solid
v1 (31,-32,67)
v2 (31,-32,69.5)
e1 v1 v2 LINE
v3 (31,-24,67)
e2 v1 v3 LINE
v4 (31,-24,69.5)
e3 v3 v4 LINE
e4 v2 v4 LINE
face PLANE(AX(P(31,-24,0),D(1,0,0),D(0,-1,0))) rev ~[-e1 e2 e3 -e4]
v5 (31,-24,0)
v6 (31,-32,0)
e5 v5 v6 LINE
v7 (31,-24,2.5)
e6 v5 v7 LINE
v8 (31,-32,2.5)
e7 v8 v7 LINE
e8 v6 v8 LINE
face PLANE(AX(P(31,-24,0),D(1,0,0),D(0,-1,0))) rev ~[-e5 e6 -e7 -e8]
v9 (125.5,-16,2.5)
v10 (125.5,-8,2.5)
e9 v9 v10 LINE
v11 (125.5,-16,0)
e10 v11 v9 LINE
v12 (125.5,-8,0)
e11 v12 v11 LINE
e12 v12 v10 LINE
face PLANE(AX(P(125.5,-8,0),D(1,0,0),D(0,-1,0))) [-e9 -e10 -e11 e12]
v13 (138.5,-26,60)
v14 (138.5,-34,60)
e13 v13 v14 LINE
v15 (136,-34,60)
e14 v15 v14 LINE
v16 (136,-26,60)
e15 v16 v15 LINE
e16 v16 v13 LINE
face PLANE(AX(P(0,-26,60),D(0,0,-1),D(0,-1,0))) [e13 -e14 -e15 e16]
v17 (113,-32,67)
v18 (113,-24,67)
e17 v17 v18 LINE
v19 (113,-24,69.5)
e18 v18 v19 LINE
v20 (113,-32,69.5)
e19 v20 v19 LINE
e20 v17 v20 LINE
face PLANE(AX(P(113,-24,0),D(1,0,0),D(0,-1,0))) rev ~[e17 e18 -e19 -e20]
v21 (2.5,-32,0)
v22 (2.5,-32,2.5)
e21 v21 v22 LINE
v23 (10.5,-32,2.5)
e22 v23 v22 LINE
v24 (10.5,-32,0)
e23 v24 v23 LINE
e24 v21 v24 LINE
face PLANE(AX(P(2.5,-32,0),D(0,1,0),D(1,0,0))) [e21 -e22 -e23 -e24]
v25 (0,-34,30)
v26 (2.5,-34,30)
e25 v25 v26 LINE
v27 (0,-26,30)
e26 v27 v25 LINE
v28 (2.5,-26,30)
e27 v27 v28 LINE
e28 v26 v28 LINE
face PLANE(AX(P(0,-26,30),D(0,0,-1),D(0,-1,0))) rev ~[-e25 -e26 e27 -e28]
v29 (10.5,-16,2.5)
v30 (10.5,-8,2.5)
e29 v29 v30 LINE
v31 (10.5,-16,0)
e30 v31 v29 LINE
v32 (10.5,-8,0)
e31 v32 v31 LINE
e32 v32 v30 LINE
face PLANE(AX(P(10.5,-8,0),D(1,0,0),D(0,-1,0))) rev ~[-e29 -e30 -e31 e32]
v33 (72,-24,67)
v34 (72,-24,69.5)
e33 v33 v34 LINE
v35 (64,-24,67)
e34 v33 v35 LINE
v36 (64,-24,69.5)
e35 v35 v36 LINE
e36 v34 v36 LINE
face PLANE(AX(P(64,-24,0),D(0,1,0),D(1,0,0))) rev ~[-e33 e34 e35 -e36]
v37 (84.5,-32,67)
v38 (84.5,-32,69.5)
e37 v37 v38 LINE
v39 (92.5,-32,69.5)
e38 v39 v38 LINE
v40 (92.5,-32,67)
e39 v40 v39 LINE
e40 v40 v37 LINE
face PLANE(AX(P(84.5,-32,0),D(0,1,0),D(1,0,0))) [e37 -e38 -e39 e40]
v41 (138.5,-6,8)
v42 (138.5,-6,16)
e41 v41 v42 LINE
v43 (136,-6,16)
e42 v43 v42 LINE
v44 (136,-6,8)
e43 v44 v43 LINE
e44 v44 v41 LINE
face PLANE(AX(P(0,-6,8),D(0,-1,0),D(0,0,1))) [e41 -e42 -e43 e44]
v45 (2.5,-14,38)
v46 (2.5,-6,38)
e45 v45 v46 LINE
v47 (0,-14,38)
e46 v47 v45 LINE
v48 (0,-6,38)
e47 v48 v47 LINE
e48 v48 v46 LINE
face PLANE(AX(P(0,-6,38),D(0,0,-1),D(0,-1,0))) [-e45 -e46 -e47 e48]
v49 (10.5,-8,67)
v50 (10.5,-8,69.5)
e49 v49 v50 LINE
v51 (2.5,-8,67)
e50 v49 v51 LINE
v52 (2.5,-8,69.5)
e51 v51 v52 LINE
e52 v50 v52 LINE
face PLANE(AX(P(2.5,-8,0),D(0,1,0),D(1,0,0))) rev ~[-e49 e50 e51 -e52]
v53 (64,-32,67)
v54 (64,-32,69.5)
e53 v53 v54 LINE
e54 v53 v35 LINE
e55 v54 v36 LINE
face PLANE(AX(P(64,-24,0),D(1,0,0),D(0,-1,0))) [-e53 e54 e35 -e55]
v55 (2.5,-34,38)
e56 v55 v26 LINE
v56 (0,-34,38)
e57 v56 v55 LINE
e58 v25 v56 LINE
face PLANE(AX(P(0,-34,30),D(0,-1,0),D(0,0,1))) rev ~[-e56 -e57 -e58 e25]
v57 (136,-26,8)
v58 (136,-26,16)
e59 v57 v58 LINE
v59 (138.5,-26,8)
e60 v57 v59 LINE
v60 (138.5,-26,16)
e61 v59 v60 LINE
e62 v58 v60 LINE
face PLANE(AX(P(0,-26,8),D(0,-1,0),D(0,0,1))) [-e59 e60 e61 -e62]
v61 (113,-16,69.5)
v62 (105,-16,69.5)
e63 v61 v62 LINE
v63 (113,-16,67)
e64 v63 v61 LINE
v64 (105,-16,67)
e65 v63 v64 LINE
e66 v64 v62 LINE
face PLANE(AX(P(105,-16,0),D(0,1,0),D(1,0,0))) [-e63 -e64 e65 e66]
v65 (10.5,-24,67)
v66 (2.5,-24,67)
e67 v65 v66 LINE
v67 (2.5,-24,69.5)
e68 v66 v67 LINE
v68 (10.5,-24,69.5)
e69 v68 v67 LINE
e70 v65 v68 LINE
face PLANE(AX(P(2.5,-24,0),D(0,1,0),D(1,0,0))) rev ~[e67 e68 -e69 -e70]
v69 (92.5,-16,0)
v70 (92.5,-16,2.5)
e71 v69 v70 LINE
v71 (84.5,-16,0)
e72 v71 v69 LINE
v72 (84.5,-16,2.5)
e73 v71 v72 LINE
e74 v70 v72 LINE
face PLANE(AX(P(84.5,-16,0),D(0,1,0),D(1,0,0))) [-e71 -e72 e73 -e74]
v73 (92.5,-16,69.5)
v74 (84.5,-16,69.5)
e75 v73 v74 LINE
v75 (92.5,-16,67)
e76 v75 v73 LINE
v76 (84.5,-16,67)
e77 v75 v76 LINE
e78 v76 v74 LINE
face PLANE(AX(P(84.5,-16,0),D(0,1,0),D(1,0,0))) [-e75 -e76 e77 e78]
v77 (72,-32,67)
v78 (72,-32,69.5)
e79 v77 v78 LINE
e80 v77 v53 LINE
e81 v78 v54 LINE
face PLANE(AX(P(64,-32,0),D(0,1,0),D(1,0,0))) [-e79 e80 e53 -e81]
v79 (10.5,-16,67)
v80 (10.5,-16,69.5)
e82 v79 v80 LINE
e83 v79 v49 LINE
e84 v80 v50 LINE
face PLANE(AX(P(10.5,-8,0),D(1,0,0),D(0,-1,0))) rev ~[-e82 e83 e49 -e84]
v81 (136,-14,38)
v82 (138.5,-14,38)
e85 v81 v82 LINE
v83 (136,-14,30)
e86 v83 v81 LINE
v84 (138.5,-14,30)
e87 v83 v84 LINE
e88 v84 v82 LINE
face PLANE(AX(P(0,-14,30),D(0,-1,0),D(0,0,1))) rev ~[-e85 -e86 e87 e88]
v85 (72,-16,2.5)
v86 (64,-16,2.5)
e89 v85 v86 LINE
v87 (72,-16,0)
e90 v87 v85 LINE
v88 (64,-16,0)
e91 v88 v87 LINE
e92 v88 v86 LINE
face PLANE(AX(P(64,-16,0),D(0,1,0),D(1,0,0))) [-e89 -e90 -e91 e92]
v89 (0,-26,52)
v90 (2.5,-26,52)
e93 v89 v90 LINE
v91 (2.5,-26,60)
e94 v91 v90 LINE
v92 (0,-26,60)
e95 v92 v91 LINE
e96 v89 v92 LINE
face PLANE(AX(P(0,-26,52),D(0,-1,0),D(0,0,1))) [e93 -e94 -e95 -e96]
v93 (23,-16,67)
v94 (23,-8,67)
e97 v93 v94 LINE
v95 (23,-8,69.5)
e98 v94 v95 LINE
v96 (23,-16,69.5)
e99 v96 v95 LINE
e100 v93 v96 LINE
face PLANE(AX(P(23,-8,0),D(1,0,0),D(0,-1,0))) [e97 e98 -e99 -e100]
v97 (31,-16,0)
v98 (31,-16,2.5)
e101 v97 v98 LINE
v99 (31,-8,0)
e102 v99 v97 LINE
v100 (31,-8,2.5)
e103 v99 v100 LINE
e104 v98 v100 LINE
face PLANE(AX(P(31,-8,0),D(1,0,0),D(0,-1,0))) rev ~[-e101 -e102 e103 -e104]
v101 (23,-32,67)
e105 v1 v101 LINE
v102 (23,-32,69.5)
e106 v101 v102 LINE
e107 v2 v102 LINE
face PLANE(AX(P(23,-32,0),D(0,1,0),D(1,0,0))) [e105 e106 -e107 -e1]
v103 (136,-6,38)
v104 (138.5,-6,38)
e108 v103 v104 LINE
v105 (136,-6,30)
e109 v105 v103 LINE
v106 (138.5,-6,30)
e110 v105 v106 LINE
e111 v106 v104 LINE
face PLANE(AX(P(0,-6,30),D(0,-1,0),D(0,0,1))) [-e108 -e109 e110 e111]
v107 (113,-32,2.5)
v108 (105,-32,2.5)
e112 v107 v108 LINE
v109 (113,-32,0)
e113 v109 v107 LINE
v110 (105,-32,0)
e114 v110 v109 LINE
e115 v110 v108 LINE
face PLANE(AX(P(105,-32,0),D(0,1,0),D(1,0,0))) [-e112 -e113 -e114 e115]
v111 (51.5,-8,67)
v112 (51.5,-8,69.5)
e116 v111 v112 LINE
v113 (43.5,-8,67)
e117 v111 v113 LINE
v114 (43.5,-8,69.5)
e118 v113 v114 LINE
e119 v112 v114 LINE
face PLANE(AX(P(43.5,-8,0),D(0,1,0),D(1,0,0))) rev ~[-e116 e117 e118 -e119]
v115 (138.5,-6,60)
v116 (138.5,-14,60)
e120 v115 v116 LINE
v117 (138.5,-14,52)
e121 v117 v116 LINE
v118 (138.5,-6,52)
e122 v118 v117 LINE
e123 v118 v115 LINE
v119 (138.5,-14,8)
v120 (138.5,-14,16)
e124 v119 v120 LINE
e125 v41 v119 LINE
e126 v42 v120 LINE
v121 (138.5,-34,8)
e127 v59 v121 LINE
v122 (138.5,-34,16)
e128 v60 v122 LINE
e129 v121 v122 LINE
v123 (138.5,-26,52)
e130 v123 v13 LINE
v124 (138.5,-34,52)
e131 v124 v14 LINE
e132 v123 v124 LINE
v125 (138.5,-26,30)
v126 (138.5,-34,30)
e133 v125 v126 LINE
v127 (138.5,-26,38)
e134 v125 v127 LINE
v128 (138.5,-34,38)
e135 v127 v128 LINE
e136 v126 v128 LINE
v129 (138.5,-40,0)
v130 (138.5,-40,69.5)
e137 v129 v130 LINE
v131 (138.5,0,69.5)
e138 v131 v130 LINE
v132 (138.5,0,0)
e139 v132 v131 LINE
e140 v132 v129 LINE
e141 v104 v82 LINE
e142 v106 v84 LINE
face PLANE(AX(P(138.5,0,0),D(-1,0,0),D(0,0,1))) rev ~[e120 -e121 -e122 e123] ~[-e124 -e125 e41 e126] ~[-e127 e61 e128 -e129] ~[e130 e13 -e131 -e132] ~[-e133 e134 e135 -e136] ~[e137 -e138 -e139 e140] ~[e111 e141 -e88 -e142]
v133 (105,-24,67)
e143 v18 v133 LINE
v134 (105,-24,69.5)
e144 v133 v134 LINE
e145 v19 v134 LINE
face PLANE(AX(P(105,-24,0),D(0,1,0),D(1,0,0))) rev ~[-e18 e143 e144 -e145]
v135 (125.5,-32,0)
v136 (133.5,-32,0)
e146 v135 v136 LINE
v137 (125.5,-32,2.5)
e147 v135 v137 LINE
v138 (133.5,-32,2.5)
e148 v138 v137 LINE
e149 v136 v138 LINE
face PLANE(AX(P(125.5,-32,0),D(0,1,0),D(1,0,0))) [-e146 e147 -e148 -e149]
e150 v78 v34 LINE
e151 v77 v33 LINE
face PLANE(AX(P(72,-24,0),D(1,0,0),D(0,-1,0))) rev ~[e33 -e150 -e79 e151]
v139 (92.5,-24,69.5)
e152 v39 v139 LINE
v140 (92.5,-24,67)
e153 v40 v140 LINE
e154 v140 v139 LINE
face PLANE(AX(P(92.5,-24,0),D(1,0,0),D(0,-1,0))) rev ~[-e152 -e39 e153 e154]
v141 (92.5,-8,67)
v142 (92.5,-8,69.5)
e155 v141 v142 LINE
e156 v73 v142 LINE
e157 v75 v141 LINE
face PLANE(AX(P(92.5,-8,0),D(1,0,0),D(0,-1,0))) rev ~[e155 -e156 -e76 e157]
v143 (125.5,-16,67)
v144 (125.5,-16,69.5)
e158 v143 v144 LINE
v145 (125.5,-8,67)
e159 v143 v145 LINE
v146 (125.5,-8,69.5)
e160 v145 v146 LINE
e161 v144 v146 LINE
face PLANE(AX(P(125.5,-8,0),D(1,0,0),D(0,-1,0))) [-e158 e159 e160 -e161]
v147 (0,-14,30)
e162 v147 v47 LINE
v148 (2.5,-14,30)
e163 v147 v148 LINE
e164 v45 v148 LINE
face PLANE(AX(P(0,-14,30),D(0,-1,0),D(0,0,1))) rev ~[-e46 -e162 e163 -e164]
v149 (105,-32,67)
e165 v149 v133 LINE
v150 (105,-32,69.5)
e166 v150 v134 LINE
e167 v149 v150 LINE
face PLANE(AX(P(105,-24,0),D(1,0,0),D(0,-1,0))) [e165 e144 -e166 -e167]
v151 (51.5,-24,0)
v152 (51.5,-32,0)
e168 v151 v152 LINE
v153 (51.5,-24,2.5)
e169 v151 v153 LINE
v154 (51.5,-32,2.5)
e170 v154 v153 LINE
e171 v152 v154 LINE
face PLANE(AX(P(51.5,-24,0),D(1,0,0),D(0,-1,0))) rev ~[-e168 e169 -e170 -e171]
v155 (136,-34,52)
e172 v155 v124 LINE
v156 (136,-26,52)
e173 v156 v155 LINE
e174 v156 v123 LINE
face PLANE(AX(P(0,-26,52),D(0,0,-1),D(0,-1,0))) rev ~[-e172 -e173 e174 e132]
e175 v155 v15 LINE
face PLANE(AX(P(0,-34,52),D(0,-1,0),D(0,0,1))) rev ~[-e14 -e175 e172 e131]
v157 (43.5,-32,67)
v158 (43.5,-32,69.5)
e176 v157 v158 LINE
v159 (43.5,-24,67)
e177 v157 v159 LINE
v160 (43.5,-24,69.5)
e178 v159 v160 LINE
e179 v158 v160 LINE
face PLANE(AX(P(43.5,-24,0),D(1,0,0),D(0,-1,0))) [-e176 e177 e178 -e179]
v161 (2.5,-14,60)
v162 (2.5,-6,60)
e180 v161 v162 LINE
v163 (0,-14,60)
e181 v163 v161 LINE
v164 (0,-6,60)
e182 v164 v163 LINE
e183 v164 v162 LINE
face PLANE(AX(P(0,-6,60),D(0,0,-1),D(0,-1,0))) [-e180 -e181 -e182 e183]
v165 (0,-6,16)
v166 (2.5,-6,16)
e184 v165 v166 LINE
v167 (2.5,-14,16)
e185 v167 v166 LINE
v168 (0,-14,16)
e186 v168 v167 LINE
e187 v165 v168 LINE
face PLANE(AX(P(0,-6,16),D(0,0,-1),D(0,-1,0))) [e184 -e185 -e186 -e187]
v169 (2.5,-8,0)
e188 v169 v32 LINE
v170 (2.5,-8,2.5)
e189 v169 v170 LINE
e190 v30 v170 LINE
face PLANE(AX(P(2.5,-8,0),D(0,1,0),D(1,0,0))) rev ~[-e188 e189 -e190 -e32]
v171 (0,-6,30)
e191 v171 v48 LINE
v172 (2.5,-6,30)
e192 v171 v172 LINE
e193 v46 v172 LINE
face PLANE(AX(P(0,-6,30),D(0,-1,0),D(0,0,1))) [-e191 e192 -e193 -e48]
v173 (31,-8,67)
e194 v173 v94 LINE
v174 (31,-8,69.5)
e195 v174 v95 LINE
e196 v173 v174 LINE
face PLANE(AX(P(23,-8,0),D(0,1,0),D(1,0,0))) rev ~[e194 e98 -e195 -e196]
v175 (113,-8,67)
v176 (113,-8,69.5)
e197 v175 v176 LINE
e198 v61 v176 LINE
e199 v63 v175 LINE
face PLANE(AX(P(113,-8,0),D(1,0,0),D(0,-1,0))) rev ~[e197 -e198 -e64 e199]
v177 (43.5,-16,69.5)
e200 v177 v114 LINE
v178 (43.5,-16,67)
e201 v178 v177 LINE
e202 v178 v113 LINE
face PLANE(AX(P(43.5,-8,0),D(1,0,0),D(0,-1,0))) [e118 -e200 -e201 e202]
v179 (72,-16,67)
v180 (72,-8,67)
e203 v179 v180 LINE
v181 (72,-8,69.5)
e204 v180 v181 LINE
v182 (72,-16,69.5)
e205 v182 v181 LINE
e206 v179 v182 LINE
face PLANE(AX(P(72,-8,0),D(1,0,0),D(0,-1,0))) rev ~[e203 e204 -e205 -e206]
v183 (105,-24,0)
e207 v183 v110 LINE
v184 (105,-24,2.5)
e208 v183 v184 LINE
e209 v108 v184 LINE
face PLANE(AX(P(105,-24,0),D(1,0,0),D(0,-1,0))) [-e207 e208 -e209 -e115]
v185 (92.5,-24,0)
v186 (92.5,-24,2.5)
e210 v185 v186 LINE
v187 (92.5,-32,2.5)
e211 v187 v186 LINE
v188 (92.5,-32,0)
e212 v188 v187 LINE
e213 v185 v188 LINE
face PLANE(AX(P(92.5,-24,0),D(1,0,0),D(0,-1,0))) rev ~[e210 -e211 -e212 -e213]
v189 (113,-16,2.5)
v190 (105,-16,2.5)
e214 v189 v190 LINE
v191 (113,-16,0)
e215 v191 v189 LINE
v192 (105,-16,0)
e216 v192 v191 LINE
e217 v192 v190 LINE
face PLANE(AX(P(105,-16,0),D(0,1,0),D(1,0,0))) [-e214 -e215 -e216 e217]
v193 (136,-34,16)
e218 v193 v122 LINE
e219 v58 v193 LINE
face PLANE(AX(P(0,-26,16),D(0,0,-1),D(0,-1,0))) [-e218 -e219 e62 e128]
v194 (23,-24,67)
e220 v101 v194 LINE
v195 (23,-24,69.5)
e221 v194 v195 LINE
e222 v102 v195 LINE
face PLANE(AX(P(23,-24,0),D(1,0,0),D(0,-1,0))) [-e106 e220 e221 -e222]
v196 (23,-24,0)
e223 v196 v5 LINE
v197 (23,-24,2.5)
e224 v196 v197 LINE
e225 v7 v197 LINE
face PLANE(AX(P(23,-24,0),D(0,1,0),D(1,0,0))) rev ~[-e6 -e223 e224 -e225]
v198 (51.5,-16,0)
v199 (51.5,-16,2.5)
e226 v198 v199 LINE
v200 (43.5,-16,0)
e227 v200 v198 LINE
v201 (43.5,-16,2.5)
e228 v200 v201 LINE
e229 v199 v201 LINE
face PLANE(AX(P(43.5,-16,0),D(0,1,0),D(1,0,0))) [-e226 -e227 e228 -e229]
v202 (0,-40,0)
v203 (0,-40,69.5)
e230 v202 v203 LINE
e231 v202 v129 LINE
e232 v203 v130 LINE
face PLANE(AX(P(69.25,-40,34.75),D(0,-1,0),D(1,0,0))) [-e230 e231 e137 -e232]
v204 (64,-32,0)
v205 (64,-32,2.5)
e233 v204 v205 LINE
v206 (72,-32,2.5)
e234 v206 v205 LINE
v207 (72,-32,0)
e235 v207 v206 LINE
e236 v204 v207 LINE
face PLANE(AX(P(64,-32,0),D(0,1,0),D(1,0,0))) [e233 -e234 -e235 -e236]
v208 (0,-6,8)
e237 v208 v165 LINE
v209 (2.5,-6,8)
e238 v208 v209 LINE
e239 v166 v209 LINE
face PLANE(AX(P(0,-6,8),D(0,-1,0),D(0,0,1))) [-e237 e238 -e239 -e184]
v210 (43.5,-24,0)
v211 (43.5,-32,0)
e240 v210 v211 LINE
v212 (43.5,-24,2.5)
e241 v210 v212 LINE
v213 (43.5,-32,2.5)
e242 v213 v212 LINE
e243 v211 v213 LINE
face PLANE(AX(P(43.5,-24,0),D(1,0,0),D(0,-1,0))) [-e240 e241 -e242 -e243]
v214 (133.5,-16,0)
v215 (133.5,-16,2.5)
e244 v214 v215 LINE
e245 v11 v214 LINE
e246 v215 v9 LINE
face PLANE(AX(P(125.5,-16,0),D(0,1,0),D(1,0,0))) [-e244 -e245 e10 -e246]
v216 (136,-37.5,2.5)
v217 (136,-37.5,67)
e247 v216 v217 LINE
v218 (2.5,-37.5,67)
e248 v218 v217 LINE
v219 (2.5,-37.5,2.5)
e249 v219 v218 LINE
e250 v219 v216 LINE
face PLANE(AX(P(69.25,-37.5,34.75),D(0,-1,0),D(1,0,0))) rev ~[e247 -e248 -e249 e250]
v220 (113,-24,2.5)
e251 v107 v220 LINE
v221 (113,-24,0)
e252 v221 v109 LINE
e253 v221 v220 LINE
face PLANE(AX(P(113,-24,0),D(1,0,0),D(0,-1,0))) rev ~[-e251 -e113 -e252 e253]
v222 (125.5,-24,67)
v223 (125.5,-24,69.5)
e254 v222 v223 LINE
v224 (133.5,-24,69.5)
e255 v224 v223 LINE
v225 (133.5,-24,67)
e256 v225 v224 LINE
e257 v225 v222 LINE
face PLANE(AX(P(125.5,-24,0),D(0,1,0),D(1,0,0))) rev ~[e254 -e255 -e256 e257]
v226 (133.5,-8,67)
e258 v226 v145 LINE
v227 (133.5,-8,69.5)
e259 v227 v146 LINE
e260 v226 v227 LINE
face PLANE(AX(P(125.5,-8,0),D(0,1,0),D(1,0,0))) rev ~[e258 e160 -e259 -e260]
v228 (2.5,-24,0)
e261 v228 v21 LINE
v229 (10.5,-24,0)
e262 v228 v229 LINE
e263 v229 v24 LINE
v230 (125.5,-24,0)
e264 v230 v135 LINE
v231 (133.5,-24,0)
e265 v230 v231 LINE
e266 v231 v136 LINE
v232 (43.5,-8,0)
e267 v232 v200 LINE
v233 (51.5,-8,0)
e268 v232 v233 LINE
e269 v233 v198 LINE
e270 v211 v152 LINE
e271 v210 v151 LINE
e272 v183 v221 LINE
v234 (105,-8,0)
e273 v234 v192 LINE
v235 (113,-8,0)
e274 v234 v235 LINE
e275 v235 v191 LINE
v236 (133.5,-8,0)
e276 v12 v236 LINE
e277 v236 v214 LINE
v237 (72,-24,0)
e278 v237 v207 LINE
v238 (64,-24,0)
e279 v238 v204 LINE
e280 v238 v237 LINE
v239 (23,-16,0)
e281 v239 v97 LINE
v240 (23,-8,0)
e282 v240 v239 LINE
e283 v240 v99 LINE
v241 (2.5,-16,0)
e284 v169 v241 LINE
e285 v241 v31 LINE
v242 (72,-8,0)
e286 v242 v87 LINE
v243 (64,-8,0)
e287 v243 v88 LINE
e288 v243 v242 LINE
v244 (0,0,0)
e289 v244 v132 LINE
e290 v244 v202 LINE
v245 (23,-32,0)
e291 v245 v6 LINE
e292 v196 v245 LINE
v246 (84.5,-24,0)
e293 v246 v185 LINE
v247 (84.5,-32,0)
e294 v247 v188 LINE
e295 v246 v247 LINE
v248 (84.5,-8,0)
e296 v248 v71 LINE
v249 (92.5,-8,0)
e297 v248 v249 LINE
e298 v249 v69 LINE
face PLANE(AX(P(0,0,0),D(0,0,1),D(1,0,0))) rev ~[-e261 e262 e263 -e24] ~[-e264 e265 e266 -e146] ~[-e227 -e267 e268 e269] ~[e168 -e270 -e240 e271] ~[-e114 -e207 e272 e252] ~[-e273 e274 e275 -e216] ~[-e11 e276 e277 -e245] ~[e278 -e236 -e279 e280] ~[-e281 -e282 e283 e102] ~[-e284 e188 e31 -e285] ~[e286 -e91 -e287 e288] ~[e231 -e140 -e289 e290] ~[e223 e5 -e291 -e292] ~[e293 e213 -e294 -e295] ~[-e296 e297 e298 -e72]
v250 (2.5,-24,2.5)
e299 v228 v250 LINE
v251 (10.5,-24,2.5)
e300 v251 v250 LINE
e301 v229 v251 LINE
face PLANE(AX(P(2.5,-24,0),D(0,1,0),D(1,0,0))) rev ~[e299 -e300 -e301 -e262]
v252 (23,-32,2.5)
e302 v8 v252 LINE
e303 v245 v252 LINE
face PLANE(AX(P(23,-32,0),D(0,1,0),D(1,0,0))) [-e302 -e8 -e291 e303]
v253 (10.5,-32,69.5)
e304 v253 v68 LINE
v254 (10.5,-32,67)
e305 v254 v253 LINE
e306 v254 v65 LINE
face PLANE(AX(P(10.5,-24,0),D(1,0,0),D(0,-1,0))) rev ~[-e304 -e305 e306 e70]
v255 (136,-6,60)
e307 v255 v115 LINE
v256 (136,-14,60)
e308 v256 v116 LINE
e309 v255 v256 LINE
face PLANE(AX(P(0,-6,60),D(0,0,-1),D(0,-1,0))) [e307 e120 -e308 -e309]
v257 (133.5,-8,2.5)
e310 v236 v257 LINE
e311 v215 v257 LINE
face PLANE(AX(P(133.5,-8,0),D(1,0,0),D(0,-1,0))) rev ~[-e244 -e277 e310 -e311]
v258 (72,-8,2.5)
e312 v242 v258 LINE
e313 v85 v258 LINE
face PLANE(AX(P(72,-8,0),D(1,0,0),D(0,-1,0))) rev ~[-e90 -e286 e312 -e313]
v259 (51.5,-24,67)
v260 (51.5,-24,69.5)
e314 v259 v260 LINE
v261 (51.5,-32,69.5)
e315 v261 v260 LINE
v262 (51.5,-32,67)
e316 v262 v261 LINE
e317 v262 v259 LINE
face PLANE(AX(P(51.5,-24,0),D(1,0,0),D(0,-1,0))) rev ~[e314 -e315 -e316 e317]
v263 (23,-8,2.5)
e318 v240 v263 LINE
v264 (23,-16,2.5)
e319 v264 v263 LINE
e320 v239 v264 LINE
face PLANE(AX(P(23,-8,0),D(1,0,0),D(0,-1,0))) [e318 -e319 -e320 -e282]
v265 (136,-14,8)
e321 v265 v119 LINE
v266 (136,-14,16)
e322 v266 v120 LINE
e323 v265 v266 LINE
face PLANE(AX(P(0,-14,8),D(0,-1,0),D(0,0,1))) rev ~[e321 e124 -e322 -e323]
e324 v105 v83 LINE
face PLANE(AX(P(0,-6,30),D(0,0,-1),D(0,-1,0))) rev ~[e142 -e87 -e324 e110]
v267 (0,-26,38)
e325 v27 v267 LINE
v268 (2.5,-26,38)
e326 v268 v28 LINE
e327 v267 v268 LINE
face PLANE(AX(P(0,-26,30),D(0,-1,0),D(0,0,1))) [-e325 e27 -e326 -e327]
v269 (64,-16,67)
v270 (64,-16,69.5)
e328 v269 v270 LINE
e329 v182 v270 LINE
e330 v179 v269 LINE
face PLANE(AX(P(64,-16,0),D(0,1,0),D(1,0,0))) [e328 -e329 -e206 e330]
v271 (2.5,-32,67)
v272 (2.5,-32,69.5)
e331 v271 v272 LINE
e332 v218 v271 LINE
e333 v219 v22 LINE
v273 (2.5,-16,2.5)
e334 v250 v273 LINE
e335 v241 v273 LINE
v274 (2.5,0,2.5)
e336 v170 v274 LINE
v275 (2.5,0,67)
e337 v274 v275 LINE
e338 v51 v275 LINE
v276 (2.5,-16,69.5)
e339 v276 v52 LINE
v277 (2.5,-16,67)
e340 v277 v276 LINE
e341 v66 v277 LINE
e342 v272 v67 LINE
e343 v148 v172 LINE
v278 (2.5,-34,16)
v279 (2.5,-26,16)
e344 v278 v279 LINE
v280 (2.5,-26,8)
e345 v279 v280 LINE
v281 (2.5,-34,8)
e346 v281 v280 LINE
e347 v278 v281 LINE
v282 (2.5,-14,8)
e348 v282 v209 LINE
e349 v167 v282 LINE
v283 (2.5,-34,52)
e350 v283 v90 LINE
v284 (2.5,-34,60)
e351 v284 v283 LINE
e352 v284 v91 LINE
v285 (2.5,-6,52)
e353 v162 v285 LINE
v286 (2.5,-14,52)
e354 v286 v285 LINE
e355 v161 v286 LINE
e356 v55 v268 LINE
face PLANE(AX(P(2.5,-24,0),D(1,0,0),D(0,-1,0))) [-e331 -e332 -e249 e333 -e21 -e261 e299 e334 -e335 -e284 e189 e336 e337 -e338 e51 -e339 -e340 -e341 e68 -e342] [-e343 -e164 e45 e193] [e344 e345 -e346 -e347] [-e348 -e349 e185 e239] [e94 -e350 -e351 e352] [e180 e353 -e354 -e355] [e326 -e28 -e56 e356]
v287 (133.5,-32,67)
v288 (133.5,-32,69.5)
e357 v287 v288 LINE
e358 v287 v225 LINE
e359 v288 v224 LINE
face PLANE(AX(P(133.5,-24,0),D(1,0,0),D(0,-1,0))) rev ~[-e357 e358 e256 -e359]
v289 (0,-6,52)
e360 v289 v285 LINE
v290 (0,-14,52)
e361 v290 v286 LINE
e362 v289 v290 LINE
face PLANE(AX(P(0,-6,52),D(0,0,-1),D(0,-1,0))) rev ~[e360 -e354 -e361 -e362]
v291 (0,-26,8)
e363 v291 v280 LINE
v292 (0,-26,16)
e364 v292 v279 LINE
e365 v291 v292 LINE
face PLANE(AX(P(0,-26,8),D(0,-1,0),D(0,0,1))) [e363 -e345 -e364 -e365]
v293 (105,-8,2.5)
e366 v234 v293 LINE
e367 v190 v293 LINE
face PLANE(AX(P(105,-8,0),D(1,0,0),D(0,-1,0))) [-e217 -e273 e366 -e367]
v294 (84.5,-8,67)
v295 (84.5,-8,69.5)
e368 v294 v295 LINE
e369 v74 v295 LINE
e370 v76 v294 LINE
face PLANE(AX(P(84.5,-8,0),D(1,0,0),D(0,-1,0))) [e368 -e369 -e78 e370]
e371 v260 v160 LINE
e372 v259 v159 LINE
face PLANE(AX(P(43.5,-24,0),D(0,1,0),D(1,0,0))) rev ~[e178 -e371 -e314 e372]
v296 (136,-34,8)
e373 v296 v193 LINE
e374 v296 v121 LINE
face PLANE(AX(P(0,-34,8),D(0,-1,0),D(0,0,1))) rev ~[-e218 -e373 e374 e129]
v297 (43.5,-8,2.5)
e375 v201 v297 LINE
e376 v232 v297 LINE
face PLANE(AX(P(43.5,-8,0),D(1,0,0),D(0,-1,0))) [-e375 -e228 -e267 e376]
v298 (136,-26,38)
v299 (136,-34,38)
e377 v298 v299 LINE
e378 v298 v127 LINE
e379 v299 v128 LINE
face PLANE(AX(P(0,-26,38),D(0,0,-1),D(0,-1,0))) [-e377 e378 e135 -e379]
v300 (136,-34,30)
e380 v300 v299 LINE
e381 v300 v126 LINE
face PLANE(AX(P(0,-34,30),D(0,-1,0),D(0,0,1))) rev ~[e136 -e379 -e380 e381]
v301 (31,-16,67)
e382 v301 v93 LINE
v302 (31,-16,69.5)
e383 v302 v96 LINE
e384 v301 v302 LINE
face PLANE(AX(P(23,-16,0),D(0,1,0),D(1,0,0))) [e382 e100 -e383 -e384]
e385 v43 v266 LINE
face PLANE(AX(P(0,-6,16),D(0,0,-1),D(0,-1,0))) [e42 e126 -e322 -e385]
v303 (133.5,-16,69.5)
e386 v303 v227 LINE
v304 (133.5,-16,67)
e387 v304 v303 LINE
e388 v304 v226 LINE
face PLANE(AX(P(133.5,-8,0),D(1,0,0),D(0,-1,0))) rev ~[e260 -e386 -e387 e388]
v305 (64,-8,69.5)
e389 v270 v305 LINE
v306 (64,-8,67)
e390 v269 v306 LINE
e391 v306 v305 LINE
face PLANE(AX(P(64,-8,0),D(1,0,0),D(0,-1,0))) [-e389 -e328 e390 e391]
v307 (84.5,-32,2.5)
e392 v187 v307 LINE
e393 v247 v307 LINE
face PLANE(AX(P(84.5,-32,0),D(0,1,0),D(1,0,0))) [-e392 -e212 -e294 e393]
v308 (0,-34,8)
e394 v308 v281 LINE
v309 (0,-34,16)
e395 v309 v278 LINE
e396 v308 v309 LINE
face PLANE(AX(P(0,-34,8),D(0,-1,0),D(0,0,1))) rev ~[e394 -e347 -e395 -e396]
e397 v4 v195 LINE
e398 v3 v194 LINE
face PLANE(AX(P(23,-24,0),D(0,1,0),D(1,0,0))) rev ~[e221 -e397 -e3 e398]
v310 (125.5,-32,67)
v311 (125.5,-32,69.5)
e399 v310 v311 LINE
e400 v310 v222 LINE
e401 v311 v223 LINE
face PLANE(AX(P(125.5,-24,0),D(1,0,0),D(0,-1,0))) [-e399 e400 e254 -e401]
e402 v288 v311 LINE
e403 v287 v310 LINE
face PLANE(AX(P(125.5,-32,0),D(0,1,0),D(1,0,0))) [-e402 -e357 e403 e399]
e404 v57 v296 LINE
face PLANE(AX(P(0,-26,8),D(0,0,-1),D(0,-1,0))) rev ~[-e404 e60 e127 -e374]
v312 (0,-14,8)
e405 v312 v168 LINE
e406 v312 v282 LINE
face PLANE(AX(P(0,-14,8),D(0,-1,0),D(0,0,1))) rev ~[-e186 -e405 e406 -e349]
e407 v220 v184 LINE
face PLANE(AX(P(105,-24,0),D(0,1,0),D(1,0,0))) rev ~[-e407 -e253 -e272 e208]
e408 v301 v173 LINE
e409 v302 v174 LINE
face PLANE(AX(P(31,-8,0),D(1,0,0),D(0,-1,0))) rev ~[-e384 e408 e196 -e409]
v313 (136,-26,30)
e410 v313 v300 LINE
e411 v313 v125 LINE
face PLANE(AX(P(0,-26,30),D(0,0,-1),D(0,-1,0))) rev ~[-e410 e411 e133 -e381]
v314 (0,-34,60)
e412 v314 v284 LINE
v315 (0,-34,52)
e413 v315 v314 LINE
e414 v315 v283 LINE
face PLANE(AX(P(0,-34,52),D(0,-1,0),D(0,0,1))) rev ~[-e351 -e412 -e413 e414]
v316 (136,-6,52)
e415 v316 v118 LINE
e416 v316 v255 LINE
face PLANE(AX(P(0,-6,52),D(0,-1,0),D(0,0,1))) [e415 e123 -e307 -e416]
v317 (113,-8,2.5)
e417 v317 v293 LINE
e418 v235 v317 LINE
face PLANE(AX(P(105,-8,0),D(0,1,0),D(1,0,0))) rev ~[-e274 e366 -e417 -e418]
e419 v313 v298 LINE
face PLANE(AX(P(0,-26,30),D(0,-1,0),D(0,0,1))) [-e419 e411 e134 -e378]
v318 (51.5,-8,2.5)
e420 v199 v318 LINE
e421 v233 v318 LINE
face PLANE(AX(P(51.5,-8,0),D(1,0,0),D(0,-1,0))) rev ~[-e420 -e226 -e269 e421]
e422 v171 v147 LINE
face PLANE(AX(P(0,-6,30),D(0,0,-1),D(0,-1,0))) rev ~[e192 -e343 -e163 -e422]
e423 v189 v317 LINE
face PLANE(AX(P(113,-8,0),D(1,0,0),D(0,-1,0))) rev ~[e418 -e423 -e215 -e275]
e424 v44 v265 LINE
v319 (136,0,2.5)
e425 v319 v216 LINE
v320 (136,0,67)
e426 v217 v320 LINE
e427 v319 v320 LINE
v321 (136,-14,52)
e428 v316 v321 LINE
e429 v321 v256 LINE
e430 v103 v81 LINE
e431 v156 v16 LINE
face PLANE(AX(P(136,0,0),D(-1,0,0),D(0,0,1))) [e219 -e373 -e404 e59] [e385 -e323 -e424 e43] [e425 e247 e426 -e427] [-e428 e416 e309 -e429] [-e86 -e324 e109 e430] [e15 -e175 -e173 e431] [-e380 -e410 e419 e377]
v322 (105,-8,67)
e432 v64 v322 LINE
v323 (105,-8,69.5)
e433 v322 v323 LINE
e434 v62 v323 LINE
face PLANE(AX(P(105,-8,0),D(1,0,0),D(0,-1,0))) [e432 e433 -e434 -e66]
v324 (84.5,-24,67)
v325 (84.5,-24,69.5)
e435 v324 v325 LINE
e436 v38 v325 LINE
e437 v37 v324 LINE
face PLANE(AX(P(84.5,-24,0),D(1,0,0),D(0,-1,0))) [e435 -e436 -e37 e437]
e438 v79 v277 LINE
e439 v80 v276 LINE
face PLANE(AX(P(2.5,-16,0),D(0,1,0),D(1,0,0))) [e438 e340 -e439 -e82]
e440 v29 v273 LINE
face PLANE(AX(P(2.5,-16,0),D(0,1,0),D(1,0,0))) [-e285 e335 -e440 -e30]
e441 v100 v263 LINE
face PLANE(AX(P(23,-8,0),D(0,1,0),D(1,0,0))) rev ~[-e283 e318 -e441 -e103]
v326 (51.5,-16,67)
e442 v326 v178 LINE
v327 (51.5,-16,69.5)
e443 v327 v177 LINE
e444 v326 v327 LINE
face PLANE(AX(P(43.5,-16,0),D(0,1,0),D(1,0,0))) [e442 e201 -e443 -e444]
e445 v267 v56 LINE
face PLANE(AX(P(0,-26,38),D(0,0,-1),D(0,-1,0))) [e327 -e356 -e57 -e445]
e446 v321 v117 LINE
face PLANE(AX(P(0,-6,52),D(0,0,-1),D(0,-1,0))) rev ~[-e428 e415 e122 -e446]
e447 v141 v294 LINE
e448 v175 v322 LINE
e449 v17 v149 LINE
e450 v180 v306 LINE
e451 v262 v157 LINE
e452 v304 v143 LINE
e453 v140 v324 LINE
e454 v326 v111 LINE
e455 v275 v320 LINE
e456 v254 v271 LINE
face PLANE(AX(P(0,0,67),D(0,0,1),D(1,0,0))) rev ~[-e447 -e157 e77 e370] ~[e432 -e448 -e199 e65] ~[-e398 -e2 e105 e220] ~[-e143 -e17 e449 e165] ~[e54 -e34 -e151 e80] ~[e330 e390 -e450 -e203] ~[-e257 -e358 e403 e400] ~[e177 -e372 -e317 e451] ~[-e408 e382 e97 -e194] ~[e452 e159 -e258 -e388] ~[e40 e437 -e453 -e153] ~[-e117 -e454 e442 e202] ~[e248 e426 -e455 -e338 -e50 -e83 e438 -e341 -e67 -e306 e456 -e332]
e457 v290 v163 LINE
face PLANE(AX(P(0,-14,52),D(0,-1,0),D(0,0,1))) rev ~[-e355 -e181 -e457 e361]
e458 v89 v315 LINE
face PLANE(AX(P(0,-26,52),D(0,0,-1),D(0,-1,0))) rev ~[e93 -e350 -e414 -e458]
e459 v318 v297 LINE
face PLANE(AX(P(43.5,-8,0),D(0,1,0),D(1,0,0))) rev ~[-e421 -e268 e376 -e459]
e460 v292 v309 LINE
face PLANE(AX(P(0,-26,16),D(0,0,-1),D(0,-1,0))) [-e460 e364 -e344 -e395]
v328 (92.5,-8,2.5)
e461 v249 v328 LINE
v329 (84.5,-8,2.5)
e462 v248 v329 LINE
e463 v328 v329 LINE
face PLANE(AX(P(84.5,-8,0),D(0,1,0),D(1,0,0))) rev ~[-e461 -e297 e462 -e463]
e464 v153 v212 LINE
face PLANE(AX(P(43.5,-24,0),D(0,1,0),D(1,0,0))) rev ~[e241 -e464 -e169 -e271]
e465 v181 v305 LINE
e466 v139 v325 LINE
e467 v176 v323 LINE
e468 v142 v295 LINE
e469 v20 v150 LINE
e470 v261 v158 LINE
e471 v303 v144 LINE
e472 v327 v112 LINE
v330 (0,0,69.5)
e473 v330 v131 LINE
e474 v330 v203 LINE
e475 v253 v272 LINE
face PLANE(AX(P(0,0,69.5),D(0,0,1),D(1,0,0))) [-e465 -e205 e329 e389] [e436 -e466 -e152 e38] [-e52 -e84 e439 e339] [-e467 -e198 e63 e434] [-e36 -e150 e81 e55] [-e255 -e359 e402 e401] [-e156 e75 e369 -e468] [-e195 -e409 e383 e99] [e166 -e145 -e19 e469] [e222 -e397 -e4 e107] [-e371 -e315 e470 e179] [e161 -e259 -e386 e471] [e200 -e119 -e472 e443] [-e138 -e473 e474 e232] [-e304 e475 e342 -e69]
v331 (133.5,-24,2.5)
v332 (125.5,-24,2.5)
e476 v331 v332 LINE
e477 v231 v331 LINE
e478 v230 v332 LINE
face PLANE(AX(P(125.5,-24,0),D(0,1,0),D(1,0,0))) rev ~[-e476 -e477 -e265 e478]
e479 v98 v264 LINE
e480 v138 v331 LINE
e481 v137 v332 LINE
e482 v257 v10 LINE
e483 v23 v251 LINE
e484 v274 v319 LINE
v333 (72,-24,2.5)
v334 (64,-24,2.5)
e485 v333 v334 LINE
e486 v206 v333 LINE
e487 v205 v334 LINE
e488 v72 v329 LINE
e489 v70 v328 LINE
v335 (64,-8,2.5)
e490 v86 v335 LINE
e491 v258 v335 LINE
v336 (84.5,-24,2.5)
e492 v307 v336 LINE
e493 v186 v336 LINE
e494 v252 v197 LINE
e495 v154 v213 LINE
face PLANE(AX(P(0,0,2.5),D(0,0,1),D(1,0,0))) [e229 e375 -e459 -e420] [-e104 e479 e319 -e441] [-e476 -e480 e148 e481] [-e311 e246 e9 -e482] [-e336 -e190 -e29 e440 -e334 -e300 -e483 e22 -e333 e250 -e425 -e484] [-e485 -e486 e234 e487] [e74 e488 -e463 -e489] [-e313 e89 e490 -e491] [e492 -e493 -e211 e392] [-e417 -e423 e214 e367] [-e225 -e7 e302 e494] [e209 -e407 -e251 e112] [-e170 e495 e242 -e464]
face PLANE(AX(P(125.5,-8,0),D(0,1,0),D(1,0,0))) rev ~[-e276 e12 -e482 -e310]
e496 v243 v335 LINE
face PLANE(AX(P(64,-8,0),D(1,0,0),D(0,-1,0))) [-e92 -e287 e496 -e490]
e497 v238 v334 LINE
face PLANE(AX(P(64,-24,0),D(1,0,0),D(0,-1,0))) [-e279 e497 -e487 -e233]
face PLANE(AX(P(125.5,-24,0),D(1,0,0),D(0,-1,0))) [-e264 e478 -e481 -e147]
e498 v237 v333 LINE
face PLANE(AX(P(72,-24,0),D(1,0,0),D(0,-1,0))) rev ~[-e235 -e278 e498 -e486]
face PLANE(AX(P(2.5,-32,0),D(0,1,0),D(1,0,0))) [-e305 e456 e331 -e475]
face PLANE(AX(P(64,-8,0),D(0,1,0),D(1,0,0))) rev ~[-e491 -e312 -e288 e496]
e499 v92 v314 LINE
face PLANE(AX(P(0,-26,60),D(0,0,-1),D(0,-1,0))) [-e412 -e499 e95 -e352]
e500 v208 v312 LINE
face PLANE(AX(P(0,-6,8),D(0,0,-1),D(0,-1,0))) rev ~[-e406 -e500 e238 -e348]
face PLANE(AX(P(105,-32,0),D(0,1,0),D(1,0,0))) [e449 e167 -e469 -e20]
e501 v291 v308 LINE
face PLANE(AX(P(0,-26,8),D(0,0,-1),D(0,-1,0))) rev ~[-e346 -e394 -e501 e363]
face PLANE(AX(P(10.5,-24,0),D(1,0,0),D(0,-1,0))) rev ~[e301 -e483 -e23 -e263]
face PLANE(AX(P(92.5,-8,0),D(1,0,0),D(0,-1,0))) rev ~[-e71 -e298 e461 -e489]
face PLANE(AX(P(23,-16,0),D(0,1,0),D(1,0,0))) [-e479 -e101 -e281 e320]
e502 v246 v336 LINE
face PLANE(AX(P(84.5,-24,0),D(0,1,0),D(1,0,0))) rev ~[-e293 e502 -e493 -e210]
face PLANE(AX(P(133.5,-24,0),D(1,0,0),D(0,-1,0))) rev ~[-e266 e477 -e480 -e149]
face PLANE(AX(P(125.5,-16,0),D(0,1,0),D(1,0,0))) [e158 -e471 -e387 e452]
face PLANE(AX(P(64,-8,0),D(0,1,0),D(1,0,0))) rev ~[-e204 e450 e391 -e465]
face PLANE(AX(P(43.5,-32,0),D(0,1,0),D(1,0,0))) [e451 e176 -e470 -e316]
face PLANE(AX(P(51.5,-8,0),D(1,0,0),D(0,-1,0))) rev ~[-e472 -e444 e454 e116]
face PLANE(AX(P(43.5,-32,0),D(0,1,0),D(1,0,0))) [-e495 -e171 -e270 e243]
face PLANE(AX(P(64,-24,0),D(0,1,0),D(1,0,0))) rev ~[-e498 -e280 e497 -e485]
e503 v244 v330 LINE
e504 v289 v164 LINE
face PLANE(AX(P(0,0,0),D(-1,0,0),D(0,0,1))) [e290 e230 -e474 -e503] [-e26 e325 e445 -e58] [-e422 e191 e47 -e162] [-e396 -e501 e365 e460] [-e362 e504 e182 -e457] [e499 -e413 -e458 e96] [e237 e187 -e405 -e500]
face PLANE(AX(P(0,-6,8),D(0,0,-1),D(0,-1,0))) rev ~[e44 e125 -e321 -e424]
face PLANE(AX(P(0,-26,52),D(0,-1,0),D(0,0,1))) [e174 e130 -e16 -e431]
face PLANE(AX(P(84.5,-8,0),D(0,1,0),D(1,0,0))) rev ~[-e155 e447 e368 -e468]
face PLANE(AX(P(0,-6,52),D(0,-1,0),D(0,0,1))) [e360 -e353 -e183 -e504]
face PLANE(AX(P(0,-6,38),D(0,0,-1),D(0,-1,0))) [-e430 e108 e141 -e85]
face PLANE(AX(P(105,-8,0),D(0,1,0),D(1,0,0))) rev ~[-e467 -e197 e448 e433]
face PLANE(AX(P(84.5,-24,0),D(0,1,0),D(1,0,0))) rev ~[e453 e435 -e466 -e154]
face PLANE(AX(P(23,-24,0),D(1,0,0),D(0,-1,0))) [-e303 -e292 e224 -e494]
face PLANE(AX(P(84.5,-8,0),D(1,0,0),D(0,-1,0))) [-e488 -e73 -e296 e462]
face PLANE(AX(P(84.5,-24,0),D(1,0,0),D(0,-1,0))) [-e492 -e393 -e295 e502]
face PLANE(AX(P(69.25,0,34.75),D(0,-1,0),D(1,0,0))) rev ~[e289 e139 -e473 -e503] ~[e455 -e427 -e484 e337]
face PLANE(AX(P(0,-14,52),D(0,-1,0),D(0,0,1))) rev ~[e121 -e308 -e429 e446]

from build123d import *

# Parameters (mm, degrees)
F0_W     = 138.5
F0_H     = 69.5
F1_DEPTH = 40
F2_T     = -2.5
F3_W     = 8
F3_H     = 8
F4_DEPTH = 100
F5_W     = 8
F5_H     = 8
F6_DEPTH = 200


with BuildPart() as f1:
    # F0 (on Front) → F1 (new body)
    with BuildSketch(Plane.XZ):
        with Locations((69.25, 34.75)):
            Rectangle(F0_W, F0_H)
    extrude(amount=F1_DEPTH)

    # F2
    f2_openings = [f1.faces().sort_by_distance(p)[0] for p in [
        (69.25, 0, 34.75),
    ]]
    offset(amount=F2_T, openings=f2_openings)

    # F3 (on face) → F4 (cut)
    with BuildSketch(Plane(origin=(0, 0, 0), x_dir=(1, 0, 0), z_dir=(0, 0, -1))):
        with Locations((6.5, 28)):
            Rectangle(F3_W, F3_H)
        with Locations((27, 28)):
            Rectangle(F3_W, F3_H)
        with Locations((27, 12)):
            Rectangle(F3_W, F3_H)
        with Locations((6.5, 12)):
            Rectangle(F3_W, F3_H)
        with Locations((47.5, 12)):
            Rectangle(F3_W, F3_H)
        with Locations((47.5, 28)):
            Rectangle(F3_W, F3_H)
        with Locations((68, 28)):
            Rectangle(F3_W, F3_H)
        with Locations((68, 12)):
            Rectangle(F3_W, F3_H)
        with Locations((88.5, 12)):
            Rectangle(F3_W, F3_H)
        with Locations((88.5, 28)):
            Rectangle(F3_W, F3_H)
        with Locations((109, 28)):
            Rectangle(F3_W, F3_H)
        with Locations((109, 12)):
            Rectangle(F3_W, F3_H)
        with Locations((129.5, 12)):
            Rectangle(F3_W, F3_H)
        with Locations((129.5, 28)):
            Rectangle(F3_W, F3_H)
    extrude(amount=-F4_DEPTH, mode=Mode.SUBTRACT)

    # F5 (on face) → F6 (cut)
    with BuildSketch(Plane(origin=(0, 0, 0), x_dir=(0, -1, 0), z_dir=(-1, 0, 0))):
        with Locations((10, 12)):
            Rectangle(F5_W, F5_H)
        with Locations((10, 34)):
            Rectangle(F5_W, F5_H)
        with Locations((30, 12)):
            Rectangle(F5_W, F5_H)
        with Locations((30, 34)):
            Rectangle(F5_W, F5_H)
        with Locations((30, 56)):
            Rectangle(F5_W, F5_H)
        with Locations((10, 56)):
            Rectangle(F5_W, F5_H)
    extrude(amount=-F6_DEPTH, mode=Mode.SUBTRACT)


solid = f1.part
